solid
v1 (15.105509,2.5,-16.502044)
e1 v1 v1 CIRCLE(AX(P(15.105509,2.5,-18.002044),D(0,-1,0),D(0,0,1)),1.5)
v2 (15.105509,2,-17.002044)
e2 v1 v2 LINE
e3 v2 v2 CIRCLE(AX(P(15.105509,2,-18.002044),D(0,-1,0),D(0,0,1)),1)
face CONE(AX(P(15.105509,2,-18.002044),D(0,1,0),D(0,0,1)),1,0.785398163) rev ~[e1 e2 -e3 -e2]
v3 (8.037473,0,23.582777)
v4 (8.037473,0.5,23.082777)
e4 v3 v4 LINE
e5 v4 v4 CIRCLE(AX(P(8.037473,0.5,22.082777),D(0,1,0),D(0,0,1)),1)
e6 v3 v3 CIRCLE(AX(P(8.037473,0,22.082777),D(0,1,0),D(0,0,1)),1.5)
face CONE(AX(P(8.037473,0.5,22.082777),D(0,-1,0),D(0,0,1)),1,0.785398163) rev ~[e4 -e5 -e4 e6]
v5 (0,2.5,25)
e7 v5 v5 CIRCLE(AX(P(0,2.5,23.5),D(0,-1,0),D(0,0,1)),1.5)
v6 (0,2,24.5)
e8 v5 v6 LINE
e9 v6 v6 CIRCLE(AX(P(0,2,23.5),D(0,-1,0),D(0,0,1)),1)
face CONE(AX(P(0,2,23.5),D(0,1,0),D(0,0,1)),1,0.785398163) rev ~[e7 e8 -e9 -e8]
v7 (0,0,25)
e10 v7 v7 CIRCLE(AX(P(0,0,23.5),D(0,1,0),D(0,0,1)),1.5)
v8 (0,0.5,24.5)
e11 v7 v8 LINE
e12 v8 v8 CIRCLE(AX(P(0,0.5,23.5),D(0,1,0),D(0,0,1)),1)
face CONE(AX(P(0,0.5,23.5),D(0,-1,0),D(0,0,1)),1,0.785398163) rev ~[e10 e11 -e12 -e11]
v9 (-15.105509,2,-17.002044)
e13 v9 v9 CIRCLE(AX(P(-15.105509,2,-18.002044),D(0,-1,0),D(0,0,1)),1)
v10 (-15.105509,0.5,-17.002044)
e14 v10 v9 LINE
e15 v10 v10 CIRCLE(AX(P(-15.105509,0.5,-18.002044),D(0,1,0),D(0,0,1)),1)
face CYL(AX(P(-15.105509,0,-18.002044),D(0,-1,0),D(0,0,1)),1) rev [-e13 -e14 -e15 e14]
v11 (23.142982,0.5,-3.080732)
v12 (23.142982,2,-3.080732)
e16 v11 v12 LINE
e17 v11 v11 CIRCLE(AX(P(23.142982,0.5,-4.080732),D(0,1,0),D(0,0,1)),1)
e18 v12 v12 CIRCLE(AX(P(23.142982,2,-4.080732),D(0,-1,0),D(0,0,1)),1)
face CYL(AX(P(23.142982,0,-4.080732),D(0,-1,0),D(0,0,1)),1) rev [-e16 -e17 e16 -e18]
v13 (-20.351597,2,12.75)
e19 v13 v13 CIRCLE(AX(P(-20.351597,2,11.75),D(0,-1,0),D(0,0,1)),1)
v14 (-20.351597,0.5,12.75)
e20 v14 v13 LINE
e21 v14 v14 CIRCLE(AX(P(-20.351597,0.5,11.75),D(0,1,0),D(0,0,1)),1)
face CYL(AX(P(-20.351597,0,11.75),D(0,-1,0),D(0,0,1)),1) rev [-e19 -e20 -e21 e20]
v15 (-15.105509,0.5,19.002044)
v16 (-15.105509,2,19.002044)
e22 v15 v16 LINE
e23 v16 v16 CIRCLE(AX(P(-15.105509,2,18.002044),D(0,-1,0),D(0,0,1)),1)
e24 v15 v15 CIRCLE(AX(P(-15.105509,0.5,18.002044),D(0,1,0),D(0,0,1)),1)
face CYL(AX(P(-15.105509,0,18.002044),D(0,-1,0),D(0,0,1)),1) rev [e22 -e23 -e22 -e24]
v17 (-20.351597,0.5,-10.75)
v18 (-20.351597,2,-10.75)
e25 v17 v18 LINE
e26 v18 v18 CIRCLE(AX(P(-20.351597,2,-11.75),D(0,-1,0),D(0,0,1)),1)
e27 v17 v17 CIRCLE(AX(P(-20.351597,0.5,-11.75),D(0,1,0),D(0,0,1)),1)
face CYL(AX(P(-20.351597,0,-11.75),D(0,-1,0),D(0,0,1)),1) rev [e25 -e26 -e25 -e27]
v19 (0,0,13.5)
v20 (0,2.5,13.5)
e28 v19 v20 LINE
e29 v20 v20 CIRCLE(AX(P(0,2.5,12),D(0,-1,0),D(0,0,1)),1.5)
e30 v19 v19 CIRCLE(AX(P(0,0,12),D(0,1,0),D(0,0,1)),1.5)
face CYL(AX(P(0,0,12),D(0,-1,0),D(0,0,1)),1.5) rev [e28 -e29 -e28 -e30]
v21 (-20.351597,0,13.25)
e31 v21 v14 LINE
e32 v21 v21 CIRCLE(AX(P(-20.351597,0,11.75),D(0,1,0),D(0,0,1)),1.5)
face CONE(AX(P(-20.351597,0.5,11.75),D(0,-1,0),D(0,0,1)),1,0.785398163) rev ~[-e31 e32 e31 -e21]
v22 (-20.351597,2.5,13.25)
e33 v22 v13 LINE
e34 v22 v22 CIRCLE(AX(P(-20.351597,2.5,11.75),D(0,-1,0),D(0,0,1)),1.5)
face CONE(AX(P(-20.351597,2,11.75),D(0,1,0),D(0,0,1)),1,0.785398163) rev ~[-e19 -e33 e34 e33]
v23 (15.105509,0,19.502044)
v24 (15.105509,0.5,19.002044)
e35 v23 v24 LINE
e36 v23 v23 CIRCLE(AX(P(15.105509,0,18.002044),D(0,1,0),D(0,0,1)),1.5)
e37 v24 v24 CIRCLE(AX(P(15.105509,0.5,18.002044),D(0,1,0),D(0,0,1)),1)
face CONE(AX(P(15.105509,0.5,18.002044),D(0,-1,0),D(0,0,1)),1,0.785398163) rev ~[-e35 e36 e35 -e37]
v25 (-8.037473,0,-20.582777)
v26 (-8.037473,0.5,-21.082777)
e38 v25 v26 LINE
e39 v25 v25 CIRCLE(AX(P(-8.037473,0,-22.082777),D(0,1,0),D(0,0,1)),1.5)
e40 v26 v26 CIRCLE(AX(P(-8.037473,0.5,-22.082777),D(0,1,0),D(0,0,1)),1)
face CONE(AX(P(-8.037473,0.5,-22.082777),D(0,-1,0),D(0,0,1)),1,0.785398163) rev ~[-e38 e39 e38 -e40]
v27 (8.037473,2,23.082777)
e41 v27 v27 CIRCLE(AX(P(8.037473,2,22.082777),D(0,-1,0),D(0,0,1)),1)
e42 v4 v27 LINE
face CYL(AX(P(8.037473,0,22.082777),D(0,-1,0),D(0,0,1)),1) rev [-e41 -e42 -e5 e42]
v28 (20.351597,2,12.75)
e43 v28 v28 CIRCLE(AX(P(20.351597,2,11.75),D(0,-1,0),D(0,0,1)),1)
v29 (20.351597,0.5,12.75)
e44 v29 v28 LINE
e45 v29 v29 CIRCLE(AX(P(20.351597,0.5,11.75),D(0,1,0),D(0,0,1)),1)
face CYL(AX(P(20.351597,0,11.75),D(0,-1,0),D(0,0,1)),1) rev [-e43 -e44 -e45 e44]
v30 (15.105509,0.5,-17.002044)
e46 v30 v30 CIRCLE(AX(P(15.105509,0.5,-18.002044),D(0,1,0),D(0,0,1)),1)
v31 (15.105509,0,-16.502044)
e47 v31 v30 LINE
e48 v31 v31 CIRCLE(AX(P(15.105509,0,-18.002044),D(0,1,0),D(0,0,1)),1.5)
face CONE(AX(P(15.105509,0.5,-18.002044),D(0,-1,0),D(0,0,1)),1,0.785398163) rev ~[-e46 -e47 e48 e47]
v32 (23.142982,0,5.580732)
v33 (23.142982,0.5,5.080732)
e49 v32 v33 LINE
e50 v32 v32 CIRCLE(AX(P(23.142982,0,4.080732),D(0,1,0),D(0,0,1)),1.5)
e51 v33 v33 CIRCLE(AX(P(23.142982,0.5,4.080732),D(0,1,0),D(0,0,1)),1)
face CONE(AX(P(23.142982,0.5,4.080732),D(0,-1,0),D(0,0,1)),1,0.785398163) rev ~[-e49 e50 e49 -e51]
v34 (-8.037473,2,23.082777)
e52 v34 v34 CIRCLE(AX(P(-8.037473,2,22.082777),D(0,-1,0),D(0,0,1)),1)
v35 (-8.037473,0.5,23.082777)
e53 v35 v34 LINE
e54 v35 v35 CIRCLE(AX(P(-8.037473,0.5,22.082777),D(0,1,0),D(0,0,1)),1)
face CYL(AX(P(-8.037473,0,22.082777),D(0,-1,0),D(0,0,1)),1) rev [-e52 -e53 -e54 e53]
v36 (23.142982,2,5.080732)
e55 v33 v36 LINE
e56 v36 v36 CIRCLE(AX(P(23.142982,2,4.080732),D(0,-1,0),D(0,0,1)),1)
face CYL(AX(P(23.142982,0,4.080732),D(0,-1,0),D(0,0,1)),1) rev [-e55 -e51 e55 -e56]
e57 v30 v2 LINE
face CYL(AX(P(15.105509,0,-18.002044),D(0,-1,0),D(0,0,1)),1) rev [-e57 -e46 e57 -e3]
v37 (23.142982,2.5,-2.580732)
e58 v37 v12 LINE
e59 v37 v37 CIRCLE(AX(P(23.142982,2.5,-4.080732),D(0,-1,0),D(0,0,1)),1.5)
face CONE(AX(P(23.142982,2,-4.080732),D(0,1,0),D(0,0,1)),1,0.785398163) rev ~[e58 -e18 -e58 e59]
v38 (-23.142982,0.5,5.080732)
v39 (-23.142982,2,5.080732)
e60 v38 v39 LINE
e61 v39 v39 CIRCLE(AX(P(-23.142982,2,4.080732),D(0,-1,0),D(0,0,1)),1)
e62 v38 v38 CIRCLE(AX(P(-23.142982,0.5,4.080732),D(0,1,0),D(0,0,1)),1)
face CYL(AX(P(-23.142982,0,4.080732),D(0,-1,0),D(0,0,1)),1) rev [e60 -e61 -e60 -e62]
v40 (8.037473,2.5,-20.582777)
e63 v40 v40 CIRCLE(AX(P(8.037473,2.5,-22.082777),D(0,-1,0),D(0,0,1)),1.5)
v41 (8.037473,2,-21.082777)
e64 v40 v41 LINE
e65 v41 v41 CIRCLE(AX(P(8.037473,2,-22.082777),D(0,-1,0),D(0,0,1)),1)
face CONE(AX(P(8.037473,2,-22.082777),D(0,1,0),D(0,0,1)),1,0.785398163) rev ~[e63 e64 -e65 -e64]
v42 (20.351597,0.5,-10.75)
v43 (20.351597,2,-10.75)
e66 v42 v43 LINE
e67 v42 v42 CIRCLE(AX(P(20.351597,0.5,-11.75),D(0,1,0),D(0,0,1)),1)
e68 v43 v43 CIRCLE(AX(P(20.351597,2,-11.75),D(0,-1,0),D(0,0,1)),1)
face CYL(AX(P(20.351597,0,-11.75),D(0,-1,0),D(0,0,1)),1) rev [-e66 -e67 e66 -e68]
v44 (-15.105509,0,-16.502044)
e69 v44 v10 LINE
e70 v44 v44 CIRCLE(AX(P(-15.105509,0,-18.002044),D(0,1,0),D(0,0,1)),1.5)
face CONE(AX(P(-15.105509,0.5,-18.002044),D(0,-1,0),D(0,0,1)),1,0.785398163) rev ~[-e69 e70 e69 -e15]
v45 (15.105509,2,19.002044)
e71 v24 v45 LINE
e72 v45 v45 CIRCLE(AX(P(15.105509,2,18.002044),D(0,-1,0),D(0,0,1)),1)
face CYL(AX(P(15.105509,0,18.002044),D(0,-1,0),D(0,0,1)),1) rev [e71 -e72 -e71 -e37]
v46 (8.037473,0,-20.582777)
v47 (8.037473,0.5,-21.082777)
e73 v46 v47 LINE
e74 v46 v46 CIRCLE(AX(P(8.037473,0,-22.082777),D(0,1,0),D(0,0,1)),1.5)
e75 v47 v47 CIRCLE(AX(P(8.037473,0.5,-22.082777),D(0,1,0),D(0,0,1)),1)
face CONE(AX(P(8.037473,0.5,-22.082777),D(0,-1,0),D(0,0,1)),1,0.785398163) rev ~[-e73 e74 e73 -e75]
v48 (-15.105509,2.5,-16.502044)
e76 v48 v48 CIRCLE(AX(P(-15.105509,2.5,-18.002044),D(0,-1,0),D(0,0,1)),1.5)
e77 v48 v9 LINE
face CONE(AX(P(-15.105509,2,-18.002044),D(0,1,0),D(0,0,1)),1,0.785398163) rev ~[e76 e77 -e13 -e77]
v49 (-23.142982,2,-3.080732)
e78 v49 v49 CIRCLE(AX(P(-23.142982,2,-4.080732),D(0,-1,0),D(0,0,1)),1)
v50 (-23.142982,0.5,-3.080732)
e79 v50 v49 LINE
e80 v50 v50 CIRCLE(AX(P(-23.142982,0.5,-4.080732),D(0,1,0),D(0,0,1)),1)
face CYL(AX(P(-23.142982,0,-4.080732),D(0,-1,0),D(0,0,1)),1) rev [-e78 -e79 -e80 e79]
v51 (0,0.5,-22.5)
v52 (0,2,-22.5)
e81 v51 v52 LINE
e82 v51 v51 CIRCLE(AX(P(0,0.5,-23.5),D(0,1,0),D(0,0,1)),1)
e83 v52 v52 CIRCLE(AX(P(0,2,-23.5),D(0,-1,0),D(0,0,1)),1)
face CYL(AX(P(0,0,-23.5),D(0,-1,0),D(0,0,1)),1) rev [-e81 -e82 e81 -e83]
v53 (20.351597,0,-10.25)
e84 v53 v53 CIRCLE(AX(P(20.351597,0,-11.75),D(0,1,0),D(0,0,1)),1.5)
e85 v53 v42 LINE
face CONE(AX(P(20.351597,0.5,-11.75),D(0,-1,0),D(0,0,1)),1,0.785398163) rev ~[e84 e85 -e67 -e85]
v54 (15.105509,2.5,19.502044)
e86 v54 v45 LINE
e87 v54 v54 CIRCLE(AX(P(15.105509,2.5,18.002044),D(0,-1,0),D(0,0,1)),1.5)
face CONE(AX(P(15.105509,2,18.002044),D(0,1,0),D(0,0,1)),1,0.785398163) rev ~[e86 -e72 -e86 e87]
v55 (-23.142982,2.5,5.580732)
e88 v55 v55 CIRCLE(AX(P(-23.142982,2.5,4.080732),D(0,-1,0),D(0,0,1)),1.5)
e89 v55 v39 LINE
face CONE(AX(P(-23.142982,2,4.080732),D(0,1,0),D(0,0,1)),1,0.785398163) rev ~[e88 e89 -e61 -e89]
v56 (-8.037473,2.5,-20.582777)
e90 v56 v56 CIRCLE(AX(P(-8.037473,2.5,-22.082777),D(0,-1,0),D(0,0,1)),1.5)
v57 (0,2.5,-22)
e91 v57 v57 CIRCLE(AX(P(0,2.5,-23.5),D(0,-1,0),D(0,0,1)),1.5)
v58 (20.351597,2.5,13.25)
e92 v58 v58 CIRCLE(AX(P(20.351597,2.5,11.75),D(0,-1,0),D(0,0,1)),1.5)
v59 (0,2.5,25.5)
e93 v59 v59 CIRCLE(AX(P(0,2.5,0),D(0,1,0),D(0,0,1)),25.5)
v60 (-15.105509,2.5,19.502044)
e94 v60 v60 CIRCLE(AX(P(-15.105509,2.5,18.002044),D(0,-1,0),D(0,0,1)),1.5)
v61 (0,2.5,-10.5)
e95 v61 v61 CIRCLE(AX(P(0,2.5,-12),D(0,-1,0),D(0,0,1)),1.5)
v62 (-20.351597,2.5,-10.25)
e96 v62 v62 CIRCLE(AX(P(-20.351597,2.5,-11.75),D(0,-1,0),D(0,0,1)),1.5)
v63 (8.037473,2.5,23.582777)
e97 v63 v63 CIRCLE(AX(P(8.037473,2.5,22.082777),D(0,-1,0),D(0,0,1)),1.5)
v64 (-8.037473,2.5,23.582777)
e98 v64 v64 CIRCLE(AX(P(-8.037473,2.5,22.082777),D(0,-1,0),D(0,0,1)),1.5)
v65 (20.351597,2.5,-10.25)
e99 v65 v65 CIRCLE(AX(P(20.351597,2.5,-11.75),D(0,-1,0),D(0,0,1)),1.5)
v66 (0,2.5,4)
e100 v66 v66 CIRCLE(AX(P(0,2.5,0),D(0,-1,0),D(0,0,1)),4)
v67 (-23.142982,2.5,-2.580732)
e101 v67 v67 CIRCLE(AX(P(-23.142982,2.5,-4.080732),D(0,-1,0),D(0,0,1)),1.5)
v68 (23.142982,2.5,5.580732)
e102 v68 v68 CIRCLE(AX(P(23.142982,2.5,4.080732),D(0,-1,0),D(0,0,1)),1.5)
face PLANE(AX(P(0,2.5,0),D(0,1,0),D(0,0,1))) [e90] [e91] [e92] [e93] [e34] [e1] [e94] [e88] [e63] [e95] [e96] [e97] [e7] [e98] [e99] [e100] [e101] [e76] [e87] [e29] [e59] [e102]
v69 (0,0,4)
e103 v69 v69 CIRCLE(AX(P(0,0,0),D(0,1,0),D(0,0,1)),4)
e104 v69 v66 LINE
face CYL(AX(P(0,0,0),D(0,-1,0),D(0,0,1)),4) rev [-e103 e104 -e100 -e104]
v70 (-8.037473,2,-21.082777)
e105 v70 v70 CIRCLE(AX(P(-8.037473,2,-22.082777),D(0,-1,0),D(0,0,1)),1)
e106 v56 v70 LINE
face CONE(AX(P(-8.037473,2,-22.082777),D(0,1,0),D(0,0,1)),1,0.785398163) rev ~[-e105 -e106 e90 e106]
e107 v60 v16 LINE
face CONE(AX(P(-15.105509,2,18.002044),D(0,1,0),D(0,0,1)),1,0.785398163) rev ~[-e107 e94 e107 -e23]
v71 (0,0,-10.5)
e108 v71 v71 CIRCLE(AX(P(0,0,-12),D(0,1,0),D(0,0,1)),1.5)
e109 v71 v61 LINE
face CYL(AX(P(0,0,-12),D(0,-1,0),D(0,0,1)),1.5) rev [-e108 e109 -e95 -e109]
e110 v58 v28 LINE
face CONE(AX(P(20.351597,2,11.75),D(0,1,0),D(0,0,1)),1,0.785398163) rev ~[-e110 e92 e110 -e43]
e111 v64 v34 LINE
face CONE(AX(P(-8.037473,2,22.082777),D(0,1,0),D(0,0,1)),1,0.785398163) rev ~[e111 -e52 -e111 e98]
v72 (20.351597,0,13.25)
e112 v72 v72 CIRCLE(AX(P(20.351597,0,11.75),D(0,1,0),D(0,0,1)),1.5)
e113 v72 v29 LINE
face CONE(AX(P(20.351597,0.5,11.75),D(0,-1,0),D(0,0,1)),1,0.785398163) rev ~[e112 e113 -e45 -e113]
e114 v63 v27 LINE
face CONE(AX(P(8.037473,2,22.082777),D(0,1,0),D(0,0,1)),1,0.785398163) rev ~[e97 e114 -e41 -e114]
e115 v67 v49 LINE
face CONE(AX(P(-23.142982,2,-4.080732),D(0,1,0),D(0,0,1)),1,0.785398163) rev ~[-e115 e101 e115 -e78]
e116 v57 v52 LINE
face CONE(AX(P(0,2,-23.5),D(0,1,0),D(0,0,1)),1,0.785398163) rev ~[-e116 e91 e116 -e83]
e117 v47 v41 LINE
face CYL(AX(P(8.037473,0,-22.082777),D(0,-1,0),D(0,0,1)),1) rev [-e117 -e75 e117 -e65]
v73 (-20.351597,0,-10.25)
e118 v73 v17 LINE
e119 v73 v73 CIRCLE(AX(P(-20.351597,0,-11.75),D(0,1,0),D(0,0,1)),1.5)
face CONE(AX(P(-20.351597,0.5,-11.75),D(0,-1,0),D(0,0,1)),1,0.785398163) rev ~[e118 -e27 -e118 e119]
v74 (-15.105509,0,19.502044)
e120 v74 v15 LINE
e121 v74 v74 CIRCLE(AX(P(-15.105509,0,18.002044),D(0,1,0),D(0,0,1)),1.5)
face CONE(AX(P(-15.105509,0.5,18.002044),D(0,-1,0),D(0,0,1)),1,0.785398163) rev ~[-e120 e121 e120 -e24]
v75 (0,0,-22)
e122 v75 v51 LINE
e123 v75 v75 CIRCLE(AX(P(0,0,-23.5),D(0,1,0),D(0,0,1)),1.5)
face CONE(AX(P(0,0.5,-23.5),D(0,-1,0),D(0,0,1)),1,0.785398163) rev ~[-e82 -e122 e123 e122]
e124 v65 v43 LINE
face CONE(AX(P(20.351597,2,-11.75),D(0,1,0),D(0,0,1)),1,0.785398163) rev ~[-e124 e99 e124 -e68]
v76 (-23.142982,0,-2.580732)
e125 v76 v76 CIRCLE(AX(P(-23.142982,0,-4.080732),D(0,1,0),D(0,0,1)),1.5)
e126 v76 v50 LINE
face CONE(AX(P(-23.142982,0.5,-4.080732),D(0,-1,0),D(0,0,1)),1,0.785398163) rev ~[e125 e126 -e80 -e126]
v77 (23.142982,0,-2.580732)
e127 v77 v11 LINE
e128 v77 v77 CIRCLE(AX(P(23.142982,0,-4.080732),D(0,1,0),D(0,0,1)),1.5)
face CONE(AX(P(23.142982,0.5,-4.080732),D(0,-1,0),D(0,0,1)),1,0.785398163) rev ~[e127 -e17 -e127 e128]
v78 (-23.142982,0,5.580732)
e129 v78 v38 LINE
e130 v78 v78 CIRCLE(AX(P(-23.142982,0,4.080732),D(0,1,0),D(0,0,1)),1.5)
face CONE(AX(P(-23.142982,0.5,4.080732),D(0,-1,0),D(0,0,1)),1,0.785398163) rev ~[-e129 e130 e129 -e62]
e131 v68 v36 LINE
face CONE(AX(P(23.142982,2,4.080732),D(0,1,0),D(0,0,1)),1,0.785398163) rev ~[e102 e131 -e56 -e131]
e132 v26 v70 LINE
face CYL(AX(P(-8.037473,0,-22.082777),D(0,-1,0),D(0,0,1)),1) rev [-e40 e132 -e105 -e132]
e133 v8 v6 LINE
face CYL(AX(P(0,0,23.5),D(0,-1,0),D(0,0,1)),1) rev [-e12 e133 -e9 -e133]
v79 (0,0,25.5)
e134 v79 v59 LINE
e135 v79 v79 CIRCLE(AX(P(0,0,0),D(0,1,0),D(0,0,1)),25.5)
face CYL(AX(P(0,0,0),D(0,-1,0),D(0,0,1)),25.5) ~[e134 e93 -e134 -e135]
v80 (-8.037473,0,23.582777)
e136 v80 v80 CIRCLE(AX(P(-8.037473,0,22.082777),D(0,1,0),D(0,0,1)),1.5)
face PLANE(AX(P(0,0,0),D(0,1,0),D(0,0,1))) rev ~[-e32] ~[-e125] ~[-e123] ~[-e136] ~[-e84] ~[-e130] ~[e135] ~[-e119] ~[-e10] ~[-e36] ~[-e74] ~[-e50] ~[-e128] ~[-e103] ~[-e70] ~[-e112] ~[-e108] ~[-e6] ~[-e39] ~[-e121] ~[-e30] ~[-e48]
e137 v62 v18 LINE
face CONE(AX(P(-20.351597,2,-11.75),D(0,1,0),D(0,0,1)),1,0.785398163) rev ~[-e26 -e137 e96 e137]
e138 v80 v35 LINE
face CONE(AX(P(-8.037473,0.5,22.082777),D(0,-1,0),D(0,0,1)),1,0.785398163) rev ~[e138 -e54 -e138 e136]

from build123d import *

# Parameters (mm, degrees)
SKETCH1_R           = 25.5
BOSS_EXTRUDE1_DEPTH = 2.5
CUT_EXTRUDE1_REACH  = 38.149
SKETCH2_R           = 4
CUT_EXTRUDE2_REACH  = 38.149
SKETCH3_R           = 1.5
CUT_EXTRUDE3_REACH  = 38.149
SKETCH4_R           = 1
CHAMFER1_SIZE       = 0.5


with BuildPart() as part:
    # Sketch1 → Boss-Extrude1 (new body)
    with BuildSketch(Plane(origin=(0, 0, 0), x_dir=(1, 0, 0), z_dir=(0, 1, 0))):
        with Locations(Location((0, 0, 0), (0, 0, 270))):
            Circle(SKETCH1_R)
    extrude(amount=BOSS_EXTRUDE1_DEPTH)

    # Sketch2 → Cut-Extrude1 (cut, up to next)
    with BuildSketch(Plane(origin=(0, 0, 0), x_dir=(1, 0, 0), z_dir=(0, 1, 0)), mode=Mode.PRIVATE) as cut_extrude1_sk1:
        with Locations(Location((0, 0, 0), (0, 0, 270))):
            Circle(SKETCH2_R)
    cut_extrude1_tool1 = extrude(cut_extrude1_sk1.sketch, amount=CUT_EXTRUDE1_REACH, mode=Mode.PRIVATE) & part.part
    add(cut_extrude1_tool1.solids().sort_by_distance((0, 0, 0))[0], mode=Mode.SUBTRACT)

    # Sketch3 → Cut-Extrude2 (cut, up to next)
    with BuildSketch(Plane(origin=(0, 0, 0), x_dir=(1, 0, 0), z_dir=(0, 1, 0)), mode=Mode.PRIVATE) as cut_extrude2_sk1:
        with Locations(Location((0, 12, 0), (0, 0, 270))):
            Circle(SKETCH3_R)
    cut_extrude2_tool1 = extrude(cut_extrude2_sk1.sketch, amount=CUT_EXTRUDE2_REACH, mode=Mode.PRIVATE) & part.part
    # Sketch3 → Cut-Extrude2 (cut, up to next)
    with BuildSketch(Plane(origin=(0, 0, 0), x_dir=(1, 0, 0), z_dir=(0, 1, 0)), mode=Mode.PRIVATE) as cut_extrude2_sk2:
        with Locations(Location((0, -12, 0), (0, 0, 270))):
            Circle(SKETCH3_R)
    cut_extrude2_tool2 = extrude(cut_extrude2_sk2.sketch, amount=CUT_EXTRUDE2_REACH, mode=Mode.PRIVATE) & part.part
    add(cut_extrude2_tool1.solids().sort_by_distance((0, 0, -12))[0], mode=Mode.SUBTRACT)
    add(cut_extrude2_tool2.solids().sort_by_distance((0, 0, 12))[0], mode=Mode.SUBTRACT)

    # Sketch4 → Cut-Extrude3 (cut, up to next)
    with BuildSketch(Plane(origin=(0, 0, 0), x_dir=(1, 0, 0), z_dir=(0, 1, 0)), mode=Mode.PRIVATE) as cut_extrude3_sk1:
        with Locations(Location((0, 23.5, 0), (0, 0, 270))):
            Circle(SKETCH4_R)
    cut_extrude3_tool1 = extrude(cut_extrude3_sk1.sketch, amount=CUT_EXTRUDE3_REACH, mode=Mode.PRIVATE) & part.part
    # Sketch4 → Cut-Extrude3 (cut, up to next)
    with BuildSketch(Plane(origin=(0, 0, 0), x_dir=(1, 0, 0), z_dir=(0, 1, 0)), mode=Mode.PRIVATE) as cut_extrude3_sk2:
        with Locations(Location((8.037473368, 22.082776588, 0), (0, 0, 270))):
            Circle(SKETCH4_R)
    cut_extrude3_tool2 = extrude(cut_extrude3_sk2.sketch, amount=CUT_EXTRUDE3_REACH, mode=Mode.PRIVATE) & part.part
    # Sketch4 → Cut-Extrude3 (cut, up to next)
    with BuildSketch(Plane(origin=(0, 0, 0), x_dir=(1, 0, 0), z_dir=(0, 1, 0)), mode=Mode.PRIVATE) as cut_extrude3_sk3:
        with Locations(Location((15.105508828, 18.002044413, 0), (0, 0, 270))):
            Circle(SKETCH4_R)
    cut_extrude3_tool3 = extrude(cut_extrude3_sk3.sketch, amount=CUT_EXTRUDE3_REACH, mode=Mode.PRIVATE) & part.part
    # Sketch4 → Cut-Extrude3 (cut, up to next)
    with BuildSketch(Plane(origin=(0, 0, 0), x_dir=(1, 0, 0), z_dir=(0, 1, 0)), mode=Mode.PRIVATE) as cut_extrude3_sk4:
        with Locations(Location((20.351596989, 11.75, 0), (0, 0, 270))):
            Circle(SKETCH4_R)
    cut_extrude3_tool4 = extrude(cut_extrude3_sk4.sketch, amount=CUT_EXTRUDE3_REACH, mode=Mode.PRIVATE) & part.part
    # Sketch4 → Cut-Extrude3 (cut, up to next)
    with BuildSketch(Plane(origin=(0, 0, 0), x_dir=(1, 0, 0), z_dir=(0, 1, 0)), mode=Mode.PRIVATE) as cut_extrude3_sk5:
        with Locations(Location((23.142982196, 4.080732175, 0), (0, 0, 270))):
            Circle(SKETCH4_R)
    cut_extrude3_tool5 = extrude(cut_extrude3_sk5.sketch, amount=CUT_EXTRUDE3_REACH, mode=Mode.PRIVATE) & part.part
    # Sketch4 → Cut-Extrude3 (cut, up to next)
    with BuildSketch(Plane(origin=(0, 0, 0), x_dir=(1, 0, 0), z_dir=(0, 1, 0)), mode=Mode.PRIVATE) as cut_extrude3_sk6:
        with Locations(Location((23.142982196, -4.080732175, 0), (0, 0, 270))):
            Circle(SKETCH4_R)
    cut_extrude3_tool6 = extrude(cut_extrude3_sk6.sketch, amount=CUT_EXTRUDE3_REACH, mode=Mode.PRIVATE) & part.part
    # Sketch4 → Cut-Extrude3 (cut, up to next)
    with BuildSketch(Plane(origin=(0, 0, 0), x_dir=(1, 0, 0), z_dir=(0, 1, 0)), mode=Mode.PRIVATE) as cut_extrude3_sk7:
        with Locations(Location((20.351596989, -11.75, 0), (0, 0, 270))):
            Circle(SKETCH4_R)
    cut_extrude3_tool7 = extrude(cut_extrude3_sk7.sketch, amount=CUT_EXTRUDE3_REACH, mode=Mode.PRIVATE) & part.part
    # Sketch4 → Cut-Extrude3 (cut, up to next)
    with BuildSketch(Plane(origin=(0, 0, 0), x_dir=(1, 0, 0), z_dir=(0, 1, 0)), mode=Mode.PRIVATE) as cut_extrude3_sk8:
        with Locations(Location((15.105508828, -18.002044413, 0), (0, 0, 270))):
            Circle(SKETCH4_R)
    cut_extrude3_tool8 = extrude(cut_extrude3_sk8.sketch, amount=CUT_EXTRUDE3_REACH, mode=Mode.PRIVATE) & part.part
    # Sketch4 → Cut-Extrude3 (cut, up to next)
    with BuildSketch(Plane(origin=(0, 0, 0), x_dir=(1, 0, 0), z_dir=(0, 1, 0)), mode=Mode.PRIVATE) as cut_extrude3_sk9:
        with Locations(Location((8.037473368, -22.082776588, 0), (0, 0, 270))):
            Circle(SKETCH4_R)
    cut_extrude3_tool9 = extrude(cut_extrude3_sk9.sketch, amount=CUT_EXTRUDE3_REACH, mode=Mode.PRIVATE) & part.part
    # Sketch4 → Cut-Extrude3 (cut, up to next)
    with BuildSketch(Plane(origin=(0, 0, 0), x_dir=(1, 0, 0), z_dir=(0, 1, 0)), mode=Mode.PRIVATE) as cut_extrude3_sk10:
        with Locations(Location((0, -23.5, 0), (0, 0, 270))):
            Circle(SKETCH4_R)
    cut_extrude3_tool10 = extrude(cut_extrude3_sk10.sketch, amount=CUT_EXTRUDE3_REACH, mode=Mode.PRIVATE) & part.part
    # Sketch4 → Cut-Extrude3 (cut, up to next)
    with BuildSketch(Plane(origin=(0, 0, 0), x_dir=(1, 0, 0), z_dir=(0, 1, 0)), mode=Mode.PRIVATE) as cut_extrude3_sk11:
        with Locations(Location((-8.037473368, -22.082776588, 0), (0, 0, 270))):
            Circle(SKETCH4_R)
    cut_extrude3_tool11 = extrude(cut_extrude3_sk11.sketch, amount=CUT_EXTRUDE3_REACH, mode=Mode.PRIVATE) & part.part
    # Sketch4 → Cut-Extrude3 (cut, up to next)
    with BuildSketch(Plane(origin=(0, 0, 0), x_dir=(1, 0, 0), z_dir=(0, 1, 0)), mode=Mode.PRIVATE) as cut_extrude3_sk12:
        with Locations(Location((-15.105508828, -18.002044413, 0), (0, 0, 270))):
            Circle(SKETCH4_R)
    cut_extrude3_tool12 = extrude(cut_extrude3_sk12.sketch, amount=CUT_EXTRUDE3_REACH, mode=Mode.PRIVATE) & part.part
    # Sketch4 → Cut-Extrude3 (cut, up to next)
    with BuildSketch(Plane(origin=(0, 0, 0), x_dir=(1, 0, 0), z_dir=(0, 1, 0)), mode=Mode.PRIVATE) as cut_extrude3_sk13:
        with Locations(Location((-20.351596989, -11.75, 0), (0, 0, 270))):
            Circle(SKETCH4_R)
    cut_extrude3_tool13 = extrude(cut_extrude3_sk13.sketch, amount=CUT_EXTRUDE3_REACH, mode=Mode.PRIVATE) & part.part
    # Sketch4 → Cut-Extrude3 (cut, up to next)
    with BuildSketch(Plane(origin=(0, 0, 0), x_dir=(1, 0, 0), z_dir=(0, 1, 0)), mode=Mode.PRIVATE) as cut_extrude3_sk14:
        with Locations(Location((-23.142982196, -4.080732175, 0), (0, 0, 270))):
            Circle(SKETCH4_R)
    cut_extrude3_tool14 = extrude(cut_extrude3_sk14.sketch, amount=CUT_EXTRUDE3_REACH, mode=Mode.PRIVATE) & part.part
    # Sketch4 → Cut-Extrude3 (cut, up to next)
    with BuildSketch(Plane(origin=(0, 0, 0), x_dir=(1, 0, 0), z_dir=(0, 1, 0)), mode=Mode.PRIVATE) as cut_extrude3_sk15:
        with Locations(Location((-23.142982196, 4.080732175, 0), (0, 0, 270))):
            Circle(SKETCH4_R)
    cut_extrude3_tool15 = extrude(cut_extrude3_sk15.sketch, amount=CUT_EXTRUDE3_REACH, mode=Mode.PRIVATE) & part.part
    # Sketch4 → Cut-Extrude3 (cut, up to next)
    with BuildSketch(Plane(origin=(0, 0, 0), x_dir=(1, 0, 0), z_dir=(0, 1, 0)), mode=Mode.PRIVATE) as cut_extrude3_sk16:
        with Locations(Location((-20.351596989, 11.75, 0), (0, 0, 270))):
            Circle(SKETCH4_R)
    cut_extrude3_tool16 = extrude(cut_extrude3_sk16.sketch, amount=CUT_EXTRUDE3_REACH, mode=Mode.PRIVATE) & part.part
    # Sketch4 → Cut-Extrude3 (cut, up to next)
    with BuildSketch(Plane(origin=(0, 0, 0), x_dir=(1, 0, 0), z_dir=(0, 1, 0)), mode=Mode.PRIVATE) as cut_extrude3_sk17:
        with Locations(Location((-15.105508828, 18.002044413, 0), (0, 0, 270))):
            Circle(SKETCH4_R)
    cut_extrude3_tool17 = extrude(cut_extrude3_sk17.sketch, amount=CUT_EXTRUDE3_REACH, mode=Mode.PRIVATE) & part.part
    # Sketch4 → Cut-Extrude3 (cut, up to next)
    with BuildSketch(Plane(origin=(0, 0, 0), x_dir=(1, 0, 0), z_dir=(0, 1, 0)), mode=Mode.PRIVATE) as cut_extrude3_sk18:
        with Locations(Location((-8.037473368, 22.082776588, 0), (0, 0, 270))):
            Circle(SKETCH4_R)
    cut_extrude3_tool18 = extrude(cut_extrude3_sk18.sketch, amount=CUT_EXTRUDE3_REACH, mode=Mode.PRIVATE) & part.part
    add(cut_extrude3_tool1.solids().sort_by_distance((0, 0, -23.5))[0], mode=Mode.SUBTRACT)
    add(cut_extrude3_tool2.solids().sort_by_distance((8.037473, 0, -22.082777))[0], mode=Mode.SUBTRACT)
    add(cut_extrude3_tool3.solids().sort_by_distance((15.105509, 0, -18.002044))[0], mode=Mode.SUBTRACT)
    add(cut_extrude3_tool4.solids().sort_by_distance((20.351597, 0, -11.75))[0], mode=Mode.SUBTRACT)
    add(cut_extrude3_tool5.solids().sort_by_distance((23.142982, 0, -4.080732))[0], mode=Mode.SUBTRACT)
    add(cut_extrude3_tool6.solids().sort_by_distance((23.142982, 0, 4.080732))[0], mode=Mode.SUBTRACT)
    add(cut_extrude3_tool7.solids().sort_by_distance((20.351597, 0, 11.75))[0], mode=Mode.SUBTRACT)
    add(cut_extrude3_tool8.solids().sort_by_distance((15.105509, 0, 18.002044))[0], mode=Mode.SUBTRACT)
    add(cut_extrude3_tool9.solids().sort_by_distance((8.037473, 0, 22.082777))[0], mode=Mode.SUBTRACT)
    add(cut_extrude3_tool10.solids().sort_by_distance((0, 0, 23.5))[0], mode=Mode.SUBTRACT)
    add(cut_extrude3_tool11.solids().sort_by_distance((-8.037473, 0, 22.082777))[0], mode=Mode.SUBTRACT)
    add(cut_extrude3_tool12.solids().sort_by_distance((-15.105509, 0, 18.002044))[0], mode=Mode.SUBTRACT)
    add(cut_extrude3_tool13.solids().sort_by_distance((-20.351597, 0, 11.75))[0], mode=Mode.SUBTRACT)
    add(cut_extrude3_tool14.solids().sort_by_distance((-23.142982, 0, 4.080732))[0], mode=Mode.SUBTRACT)
    add(cut_extrude3_tool15.solids().sort_by_distance((-23.142982, 0, -4.080732))[0], mode=Mode.SUBTRACT)
    add(cut_extrude3_tool16.solids().sort_by_distance((-20.351597, 0, -11.75))[0], mode=Mode.SUBTRACT)
    add(cut_extrude3_tool17.solids().sort_by_distance((-15.105509, 0, -18.002044))[0], mode=Mode.SUBTRACT)
    add(cut_extrude3_tool18.solids().sort_by_distance((-8.037473, 0, -22.082777))[0], mode=Mode.SUBTRACT)

    # Chamfer1
    chamfer1_edges = [part.edges().sort_by_distance(p)[0] for p in [
        (0, 0, -24.5),
        (0, 2.5, -24.5),
        (8.037473368, 0, -23.082776588),
        (8.037473368, 2.5, -23.082776588),
        (15.105508828, 0, -19.002044413),
        (15.105508828, 2.5, -19.002044413),
        (20.351596989, 0, -12.75),
        (20.351596989, 2.5, -12.75),
        (23.142982196, 0, -5.080732175),
        (23.142982196, 2.5, -5.080732175),
        (23.142982196, 0, 3.080732175),
        (23.142982196, 2.5, 3.080732175),
        (20.351596989, 0, 10.75),
        (20.351596989, 2.5, 10.75),
        (15.105508828, 0, 17.002044413),
        (15.105508828, 2.5, 17.002044413),
        (8.037473368, 0, 21.082776588),
        (8.037473368, 2.5, 21.082776588),
        (0, 0, 22.5),
        (0, 2.5, 22.5),
        (-8.037473368, 0, 21.082776588),
        (-8.037473368, 2.5, 21.082776588),
        (-15.105508828, 0, 17.002044413),
        (-15.105508828, 2.5, 17.002044413),
        (-20.351596989, 0, 10.75),
        (-20.351596989, 2.5, 10.75),
        (-23.142982196, 0, 3.080732175),
        (-23.142982196, 2.5, 3.080732175),
        (-23.142982196, 0, -5.080732175),
        (-23.142982196, 2.5, -5.080732175),
        (-20.351596989, 0, -12.75),
        (-20.351596989, 2.5, -12.75),
        (-15.105508828, 0, -19.002044413),
        (-15.105508828, 2.5, -19.002044413),
        (-8.037473368, 0, -23.082776588),
        (-8.037473368, 2.5, -23.082776588),
    ]]
    chamfer(chamfer1_edges, length=CHAMFER1_SIZE)


solid = part.part
